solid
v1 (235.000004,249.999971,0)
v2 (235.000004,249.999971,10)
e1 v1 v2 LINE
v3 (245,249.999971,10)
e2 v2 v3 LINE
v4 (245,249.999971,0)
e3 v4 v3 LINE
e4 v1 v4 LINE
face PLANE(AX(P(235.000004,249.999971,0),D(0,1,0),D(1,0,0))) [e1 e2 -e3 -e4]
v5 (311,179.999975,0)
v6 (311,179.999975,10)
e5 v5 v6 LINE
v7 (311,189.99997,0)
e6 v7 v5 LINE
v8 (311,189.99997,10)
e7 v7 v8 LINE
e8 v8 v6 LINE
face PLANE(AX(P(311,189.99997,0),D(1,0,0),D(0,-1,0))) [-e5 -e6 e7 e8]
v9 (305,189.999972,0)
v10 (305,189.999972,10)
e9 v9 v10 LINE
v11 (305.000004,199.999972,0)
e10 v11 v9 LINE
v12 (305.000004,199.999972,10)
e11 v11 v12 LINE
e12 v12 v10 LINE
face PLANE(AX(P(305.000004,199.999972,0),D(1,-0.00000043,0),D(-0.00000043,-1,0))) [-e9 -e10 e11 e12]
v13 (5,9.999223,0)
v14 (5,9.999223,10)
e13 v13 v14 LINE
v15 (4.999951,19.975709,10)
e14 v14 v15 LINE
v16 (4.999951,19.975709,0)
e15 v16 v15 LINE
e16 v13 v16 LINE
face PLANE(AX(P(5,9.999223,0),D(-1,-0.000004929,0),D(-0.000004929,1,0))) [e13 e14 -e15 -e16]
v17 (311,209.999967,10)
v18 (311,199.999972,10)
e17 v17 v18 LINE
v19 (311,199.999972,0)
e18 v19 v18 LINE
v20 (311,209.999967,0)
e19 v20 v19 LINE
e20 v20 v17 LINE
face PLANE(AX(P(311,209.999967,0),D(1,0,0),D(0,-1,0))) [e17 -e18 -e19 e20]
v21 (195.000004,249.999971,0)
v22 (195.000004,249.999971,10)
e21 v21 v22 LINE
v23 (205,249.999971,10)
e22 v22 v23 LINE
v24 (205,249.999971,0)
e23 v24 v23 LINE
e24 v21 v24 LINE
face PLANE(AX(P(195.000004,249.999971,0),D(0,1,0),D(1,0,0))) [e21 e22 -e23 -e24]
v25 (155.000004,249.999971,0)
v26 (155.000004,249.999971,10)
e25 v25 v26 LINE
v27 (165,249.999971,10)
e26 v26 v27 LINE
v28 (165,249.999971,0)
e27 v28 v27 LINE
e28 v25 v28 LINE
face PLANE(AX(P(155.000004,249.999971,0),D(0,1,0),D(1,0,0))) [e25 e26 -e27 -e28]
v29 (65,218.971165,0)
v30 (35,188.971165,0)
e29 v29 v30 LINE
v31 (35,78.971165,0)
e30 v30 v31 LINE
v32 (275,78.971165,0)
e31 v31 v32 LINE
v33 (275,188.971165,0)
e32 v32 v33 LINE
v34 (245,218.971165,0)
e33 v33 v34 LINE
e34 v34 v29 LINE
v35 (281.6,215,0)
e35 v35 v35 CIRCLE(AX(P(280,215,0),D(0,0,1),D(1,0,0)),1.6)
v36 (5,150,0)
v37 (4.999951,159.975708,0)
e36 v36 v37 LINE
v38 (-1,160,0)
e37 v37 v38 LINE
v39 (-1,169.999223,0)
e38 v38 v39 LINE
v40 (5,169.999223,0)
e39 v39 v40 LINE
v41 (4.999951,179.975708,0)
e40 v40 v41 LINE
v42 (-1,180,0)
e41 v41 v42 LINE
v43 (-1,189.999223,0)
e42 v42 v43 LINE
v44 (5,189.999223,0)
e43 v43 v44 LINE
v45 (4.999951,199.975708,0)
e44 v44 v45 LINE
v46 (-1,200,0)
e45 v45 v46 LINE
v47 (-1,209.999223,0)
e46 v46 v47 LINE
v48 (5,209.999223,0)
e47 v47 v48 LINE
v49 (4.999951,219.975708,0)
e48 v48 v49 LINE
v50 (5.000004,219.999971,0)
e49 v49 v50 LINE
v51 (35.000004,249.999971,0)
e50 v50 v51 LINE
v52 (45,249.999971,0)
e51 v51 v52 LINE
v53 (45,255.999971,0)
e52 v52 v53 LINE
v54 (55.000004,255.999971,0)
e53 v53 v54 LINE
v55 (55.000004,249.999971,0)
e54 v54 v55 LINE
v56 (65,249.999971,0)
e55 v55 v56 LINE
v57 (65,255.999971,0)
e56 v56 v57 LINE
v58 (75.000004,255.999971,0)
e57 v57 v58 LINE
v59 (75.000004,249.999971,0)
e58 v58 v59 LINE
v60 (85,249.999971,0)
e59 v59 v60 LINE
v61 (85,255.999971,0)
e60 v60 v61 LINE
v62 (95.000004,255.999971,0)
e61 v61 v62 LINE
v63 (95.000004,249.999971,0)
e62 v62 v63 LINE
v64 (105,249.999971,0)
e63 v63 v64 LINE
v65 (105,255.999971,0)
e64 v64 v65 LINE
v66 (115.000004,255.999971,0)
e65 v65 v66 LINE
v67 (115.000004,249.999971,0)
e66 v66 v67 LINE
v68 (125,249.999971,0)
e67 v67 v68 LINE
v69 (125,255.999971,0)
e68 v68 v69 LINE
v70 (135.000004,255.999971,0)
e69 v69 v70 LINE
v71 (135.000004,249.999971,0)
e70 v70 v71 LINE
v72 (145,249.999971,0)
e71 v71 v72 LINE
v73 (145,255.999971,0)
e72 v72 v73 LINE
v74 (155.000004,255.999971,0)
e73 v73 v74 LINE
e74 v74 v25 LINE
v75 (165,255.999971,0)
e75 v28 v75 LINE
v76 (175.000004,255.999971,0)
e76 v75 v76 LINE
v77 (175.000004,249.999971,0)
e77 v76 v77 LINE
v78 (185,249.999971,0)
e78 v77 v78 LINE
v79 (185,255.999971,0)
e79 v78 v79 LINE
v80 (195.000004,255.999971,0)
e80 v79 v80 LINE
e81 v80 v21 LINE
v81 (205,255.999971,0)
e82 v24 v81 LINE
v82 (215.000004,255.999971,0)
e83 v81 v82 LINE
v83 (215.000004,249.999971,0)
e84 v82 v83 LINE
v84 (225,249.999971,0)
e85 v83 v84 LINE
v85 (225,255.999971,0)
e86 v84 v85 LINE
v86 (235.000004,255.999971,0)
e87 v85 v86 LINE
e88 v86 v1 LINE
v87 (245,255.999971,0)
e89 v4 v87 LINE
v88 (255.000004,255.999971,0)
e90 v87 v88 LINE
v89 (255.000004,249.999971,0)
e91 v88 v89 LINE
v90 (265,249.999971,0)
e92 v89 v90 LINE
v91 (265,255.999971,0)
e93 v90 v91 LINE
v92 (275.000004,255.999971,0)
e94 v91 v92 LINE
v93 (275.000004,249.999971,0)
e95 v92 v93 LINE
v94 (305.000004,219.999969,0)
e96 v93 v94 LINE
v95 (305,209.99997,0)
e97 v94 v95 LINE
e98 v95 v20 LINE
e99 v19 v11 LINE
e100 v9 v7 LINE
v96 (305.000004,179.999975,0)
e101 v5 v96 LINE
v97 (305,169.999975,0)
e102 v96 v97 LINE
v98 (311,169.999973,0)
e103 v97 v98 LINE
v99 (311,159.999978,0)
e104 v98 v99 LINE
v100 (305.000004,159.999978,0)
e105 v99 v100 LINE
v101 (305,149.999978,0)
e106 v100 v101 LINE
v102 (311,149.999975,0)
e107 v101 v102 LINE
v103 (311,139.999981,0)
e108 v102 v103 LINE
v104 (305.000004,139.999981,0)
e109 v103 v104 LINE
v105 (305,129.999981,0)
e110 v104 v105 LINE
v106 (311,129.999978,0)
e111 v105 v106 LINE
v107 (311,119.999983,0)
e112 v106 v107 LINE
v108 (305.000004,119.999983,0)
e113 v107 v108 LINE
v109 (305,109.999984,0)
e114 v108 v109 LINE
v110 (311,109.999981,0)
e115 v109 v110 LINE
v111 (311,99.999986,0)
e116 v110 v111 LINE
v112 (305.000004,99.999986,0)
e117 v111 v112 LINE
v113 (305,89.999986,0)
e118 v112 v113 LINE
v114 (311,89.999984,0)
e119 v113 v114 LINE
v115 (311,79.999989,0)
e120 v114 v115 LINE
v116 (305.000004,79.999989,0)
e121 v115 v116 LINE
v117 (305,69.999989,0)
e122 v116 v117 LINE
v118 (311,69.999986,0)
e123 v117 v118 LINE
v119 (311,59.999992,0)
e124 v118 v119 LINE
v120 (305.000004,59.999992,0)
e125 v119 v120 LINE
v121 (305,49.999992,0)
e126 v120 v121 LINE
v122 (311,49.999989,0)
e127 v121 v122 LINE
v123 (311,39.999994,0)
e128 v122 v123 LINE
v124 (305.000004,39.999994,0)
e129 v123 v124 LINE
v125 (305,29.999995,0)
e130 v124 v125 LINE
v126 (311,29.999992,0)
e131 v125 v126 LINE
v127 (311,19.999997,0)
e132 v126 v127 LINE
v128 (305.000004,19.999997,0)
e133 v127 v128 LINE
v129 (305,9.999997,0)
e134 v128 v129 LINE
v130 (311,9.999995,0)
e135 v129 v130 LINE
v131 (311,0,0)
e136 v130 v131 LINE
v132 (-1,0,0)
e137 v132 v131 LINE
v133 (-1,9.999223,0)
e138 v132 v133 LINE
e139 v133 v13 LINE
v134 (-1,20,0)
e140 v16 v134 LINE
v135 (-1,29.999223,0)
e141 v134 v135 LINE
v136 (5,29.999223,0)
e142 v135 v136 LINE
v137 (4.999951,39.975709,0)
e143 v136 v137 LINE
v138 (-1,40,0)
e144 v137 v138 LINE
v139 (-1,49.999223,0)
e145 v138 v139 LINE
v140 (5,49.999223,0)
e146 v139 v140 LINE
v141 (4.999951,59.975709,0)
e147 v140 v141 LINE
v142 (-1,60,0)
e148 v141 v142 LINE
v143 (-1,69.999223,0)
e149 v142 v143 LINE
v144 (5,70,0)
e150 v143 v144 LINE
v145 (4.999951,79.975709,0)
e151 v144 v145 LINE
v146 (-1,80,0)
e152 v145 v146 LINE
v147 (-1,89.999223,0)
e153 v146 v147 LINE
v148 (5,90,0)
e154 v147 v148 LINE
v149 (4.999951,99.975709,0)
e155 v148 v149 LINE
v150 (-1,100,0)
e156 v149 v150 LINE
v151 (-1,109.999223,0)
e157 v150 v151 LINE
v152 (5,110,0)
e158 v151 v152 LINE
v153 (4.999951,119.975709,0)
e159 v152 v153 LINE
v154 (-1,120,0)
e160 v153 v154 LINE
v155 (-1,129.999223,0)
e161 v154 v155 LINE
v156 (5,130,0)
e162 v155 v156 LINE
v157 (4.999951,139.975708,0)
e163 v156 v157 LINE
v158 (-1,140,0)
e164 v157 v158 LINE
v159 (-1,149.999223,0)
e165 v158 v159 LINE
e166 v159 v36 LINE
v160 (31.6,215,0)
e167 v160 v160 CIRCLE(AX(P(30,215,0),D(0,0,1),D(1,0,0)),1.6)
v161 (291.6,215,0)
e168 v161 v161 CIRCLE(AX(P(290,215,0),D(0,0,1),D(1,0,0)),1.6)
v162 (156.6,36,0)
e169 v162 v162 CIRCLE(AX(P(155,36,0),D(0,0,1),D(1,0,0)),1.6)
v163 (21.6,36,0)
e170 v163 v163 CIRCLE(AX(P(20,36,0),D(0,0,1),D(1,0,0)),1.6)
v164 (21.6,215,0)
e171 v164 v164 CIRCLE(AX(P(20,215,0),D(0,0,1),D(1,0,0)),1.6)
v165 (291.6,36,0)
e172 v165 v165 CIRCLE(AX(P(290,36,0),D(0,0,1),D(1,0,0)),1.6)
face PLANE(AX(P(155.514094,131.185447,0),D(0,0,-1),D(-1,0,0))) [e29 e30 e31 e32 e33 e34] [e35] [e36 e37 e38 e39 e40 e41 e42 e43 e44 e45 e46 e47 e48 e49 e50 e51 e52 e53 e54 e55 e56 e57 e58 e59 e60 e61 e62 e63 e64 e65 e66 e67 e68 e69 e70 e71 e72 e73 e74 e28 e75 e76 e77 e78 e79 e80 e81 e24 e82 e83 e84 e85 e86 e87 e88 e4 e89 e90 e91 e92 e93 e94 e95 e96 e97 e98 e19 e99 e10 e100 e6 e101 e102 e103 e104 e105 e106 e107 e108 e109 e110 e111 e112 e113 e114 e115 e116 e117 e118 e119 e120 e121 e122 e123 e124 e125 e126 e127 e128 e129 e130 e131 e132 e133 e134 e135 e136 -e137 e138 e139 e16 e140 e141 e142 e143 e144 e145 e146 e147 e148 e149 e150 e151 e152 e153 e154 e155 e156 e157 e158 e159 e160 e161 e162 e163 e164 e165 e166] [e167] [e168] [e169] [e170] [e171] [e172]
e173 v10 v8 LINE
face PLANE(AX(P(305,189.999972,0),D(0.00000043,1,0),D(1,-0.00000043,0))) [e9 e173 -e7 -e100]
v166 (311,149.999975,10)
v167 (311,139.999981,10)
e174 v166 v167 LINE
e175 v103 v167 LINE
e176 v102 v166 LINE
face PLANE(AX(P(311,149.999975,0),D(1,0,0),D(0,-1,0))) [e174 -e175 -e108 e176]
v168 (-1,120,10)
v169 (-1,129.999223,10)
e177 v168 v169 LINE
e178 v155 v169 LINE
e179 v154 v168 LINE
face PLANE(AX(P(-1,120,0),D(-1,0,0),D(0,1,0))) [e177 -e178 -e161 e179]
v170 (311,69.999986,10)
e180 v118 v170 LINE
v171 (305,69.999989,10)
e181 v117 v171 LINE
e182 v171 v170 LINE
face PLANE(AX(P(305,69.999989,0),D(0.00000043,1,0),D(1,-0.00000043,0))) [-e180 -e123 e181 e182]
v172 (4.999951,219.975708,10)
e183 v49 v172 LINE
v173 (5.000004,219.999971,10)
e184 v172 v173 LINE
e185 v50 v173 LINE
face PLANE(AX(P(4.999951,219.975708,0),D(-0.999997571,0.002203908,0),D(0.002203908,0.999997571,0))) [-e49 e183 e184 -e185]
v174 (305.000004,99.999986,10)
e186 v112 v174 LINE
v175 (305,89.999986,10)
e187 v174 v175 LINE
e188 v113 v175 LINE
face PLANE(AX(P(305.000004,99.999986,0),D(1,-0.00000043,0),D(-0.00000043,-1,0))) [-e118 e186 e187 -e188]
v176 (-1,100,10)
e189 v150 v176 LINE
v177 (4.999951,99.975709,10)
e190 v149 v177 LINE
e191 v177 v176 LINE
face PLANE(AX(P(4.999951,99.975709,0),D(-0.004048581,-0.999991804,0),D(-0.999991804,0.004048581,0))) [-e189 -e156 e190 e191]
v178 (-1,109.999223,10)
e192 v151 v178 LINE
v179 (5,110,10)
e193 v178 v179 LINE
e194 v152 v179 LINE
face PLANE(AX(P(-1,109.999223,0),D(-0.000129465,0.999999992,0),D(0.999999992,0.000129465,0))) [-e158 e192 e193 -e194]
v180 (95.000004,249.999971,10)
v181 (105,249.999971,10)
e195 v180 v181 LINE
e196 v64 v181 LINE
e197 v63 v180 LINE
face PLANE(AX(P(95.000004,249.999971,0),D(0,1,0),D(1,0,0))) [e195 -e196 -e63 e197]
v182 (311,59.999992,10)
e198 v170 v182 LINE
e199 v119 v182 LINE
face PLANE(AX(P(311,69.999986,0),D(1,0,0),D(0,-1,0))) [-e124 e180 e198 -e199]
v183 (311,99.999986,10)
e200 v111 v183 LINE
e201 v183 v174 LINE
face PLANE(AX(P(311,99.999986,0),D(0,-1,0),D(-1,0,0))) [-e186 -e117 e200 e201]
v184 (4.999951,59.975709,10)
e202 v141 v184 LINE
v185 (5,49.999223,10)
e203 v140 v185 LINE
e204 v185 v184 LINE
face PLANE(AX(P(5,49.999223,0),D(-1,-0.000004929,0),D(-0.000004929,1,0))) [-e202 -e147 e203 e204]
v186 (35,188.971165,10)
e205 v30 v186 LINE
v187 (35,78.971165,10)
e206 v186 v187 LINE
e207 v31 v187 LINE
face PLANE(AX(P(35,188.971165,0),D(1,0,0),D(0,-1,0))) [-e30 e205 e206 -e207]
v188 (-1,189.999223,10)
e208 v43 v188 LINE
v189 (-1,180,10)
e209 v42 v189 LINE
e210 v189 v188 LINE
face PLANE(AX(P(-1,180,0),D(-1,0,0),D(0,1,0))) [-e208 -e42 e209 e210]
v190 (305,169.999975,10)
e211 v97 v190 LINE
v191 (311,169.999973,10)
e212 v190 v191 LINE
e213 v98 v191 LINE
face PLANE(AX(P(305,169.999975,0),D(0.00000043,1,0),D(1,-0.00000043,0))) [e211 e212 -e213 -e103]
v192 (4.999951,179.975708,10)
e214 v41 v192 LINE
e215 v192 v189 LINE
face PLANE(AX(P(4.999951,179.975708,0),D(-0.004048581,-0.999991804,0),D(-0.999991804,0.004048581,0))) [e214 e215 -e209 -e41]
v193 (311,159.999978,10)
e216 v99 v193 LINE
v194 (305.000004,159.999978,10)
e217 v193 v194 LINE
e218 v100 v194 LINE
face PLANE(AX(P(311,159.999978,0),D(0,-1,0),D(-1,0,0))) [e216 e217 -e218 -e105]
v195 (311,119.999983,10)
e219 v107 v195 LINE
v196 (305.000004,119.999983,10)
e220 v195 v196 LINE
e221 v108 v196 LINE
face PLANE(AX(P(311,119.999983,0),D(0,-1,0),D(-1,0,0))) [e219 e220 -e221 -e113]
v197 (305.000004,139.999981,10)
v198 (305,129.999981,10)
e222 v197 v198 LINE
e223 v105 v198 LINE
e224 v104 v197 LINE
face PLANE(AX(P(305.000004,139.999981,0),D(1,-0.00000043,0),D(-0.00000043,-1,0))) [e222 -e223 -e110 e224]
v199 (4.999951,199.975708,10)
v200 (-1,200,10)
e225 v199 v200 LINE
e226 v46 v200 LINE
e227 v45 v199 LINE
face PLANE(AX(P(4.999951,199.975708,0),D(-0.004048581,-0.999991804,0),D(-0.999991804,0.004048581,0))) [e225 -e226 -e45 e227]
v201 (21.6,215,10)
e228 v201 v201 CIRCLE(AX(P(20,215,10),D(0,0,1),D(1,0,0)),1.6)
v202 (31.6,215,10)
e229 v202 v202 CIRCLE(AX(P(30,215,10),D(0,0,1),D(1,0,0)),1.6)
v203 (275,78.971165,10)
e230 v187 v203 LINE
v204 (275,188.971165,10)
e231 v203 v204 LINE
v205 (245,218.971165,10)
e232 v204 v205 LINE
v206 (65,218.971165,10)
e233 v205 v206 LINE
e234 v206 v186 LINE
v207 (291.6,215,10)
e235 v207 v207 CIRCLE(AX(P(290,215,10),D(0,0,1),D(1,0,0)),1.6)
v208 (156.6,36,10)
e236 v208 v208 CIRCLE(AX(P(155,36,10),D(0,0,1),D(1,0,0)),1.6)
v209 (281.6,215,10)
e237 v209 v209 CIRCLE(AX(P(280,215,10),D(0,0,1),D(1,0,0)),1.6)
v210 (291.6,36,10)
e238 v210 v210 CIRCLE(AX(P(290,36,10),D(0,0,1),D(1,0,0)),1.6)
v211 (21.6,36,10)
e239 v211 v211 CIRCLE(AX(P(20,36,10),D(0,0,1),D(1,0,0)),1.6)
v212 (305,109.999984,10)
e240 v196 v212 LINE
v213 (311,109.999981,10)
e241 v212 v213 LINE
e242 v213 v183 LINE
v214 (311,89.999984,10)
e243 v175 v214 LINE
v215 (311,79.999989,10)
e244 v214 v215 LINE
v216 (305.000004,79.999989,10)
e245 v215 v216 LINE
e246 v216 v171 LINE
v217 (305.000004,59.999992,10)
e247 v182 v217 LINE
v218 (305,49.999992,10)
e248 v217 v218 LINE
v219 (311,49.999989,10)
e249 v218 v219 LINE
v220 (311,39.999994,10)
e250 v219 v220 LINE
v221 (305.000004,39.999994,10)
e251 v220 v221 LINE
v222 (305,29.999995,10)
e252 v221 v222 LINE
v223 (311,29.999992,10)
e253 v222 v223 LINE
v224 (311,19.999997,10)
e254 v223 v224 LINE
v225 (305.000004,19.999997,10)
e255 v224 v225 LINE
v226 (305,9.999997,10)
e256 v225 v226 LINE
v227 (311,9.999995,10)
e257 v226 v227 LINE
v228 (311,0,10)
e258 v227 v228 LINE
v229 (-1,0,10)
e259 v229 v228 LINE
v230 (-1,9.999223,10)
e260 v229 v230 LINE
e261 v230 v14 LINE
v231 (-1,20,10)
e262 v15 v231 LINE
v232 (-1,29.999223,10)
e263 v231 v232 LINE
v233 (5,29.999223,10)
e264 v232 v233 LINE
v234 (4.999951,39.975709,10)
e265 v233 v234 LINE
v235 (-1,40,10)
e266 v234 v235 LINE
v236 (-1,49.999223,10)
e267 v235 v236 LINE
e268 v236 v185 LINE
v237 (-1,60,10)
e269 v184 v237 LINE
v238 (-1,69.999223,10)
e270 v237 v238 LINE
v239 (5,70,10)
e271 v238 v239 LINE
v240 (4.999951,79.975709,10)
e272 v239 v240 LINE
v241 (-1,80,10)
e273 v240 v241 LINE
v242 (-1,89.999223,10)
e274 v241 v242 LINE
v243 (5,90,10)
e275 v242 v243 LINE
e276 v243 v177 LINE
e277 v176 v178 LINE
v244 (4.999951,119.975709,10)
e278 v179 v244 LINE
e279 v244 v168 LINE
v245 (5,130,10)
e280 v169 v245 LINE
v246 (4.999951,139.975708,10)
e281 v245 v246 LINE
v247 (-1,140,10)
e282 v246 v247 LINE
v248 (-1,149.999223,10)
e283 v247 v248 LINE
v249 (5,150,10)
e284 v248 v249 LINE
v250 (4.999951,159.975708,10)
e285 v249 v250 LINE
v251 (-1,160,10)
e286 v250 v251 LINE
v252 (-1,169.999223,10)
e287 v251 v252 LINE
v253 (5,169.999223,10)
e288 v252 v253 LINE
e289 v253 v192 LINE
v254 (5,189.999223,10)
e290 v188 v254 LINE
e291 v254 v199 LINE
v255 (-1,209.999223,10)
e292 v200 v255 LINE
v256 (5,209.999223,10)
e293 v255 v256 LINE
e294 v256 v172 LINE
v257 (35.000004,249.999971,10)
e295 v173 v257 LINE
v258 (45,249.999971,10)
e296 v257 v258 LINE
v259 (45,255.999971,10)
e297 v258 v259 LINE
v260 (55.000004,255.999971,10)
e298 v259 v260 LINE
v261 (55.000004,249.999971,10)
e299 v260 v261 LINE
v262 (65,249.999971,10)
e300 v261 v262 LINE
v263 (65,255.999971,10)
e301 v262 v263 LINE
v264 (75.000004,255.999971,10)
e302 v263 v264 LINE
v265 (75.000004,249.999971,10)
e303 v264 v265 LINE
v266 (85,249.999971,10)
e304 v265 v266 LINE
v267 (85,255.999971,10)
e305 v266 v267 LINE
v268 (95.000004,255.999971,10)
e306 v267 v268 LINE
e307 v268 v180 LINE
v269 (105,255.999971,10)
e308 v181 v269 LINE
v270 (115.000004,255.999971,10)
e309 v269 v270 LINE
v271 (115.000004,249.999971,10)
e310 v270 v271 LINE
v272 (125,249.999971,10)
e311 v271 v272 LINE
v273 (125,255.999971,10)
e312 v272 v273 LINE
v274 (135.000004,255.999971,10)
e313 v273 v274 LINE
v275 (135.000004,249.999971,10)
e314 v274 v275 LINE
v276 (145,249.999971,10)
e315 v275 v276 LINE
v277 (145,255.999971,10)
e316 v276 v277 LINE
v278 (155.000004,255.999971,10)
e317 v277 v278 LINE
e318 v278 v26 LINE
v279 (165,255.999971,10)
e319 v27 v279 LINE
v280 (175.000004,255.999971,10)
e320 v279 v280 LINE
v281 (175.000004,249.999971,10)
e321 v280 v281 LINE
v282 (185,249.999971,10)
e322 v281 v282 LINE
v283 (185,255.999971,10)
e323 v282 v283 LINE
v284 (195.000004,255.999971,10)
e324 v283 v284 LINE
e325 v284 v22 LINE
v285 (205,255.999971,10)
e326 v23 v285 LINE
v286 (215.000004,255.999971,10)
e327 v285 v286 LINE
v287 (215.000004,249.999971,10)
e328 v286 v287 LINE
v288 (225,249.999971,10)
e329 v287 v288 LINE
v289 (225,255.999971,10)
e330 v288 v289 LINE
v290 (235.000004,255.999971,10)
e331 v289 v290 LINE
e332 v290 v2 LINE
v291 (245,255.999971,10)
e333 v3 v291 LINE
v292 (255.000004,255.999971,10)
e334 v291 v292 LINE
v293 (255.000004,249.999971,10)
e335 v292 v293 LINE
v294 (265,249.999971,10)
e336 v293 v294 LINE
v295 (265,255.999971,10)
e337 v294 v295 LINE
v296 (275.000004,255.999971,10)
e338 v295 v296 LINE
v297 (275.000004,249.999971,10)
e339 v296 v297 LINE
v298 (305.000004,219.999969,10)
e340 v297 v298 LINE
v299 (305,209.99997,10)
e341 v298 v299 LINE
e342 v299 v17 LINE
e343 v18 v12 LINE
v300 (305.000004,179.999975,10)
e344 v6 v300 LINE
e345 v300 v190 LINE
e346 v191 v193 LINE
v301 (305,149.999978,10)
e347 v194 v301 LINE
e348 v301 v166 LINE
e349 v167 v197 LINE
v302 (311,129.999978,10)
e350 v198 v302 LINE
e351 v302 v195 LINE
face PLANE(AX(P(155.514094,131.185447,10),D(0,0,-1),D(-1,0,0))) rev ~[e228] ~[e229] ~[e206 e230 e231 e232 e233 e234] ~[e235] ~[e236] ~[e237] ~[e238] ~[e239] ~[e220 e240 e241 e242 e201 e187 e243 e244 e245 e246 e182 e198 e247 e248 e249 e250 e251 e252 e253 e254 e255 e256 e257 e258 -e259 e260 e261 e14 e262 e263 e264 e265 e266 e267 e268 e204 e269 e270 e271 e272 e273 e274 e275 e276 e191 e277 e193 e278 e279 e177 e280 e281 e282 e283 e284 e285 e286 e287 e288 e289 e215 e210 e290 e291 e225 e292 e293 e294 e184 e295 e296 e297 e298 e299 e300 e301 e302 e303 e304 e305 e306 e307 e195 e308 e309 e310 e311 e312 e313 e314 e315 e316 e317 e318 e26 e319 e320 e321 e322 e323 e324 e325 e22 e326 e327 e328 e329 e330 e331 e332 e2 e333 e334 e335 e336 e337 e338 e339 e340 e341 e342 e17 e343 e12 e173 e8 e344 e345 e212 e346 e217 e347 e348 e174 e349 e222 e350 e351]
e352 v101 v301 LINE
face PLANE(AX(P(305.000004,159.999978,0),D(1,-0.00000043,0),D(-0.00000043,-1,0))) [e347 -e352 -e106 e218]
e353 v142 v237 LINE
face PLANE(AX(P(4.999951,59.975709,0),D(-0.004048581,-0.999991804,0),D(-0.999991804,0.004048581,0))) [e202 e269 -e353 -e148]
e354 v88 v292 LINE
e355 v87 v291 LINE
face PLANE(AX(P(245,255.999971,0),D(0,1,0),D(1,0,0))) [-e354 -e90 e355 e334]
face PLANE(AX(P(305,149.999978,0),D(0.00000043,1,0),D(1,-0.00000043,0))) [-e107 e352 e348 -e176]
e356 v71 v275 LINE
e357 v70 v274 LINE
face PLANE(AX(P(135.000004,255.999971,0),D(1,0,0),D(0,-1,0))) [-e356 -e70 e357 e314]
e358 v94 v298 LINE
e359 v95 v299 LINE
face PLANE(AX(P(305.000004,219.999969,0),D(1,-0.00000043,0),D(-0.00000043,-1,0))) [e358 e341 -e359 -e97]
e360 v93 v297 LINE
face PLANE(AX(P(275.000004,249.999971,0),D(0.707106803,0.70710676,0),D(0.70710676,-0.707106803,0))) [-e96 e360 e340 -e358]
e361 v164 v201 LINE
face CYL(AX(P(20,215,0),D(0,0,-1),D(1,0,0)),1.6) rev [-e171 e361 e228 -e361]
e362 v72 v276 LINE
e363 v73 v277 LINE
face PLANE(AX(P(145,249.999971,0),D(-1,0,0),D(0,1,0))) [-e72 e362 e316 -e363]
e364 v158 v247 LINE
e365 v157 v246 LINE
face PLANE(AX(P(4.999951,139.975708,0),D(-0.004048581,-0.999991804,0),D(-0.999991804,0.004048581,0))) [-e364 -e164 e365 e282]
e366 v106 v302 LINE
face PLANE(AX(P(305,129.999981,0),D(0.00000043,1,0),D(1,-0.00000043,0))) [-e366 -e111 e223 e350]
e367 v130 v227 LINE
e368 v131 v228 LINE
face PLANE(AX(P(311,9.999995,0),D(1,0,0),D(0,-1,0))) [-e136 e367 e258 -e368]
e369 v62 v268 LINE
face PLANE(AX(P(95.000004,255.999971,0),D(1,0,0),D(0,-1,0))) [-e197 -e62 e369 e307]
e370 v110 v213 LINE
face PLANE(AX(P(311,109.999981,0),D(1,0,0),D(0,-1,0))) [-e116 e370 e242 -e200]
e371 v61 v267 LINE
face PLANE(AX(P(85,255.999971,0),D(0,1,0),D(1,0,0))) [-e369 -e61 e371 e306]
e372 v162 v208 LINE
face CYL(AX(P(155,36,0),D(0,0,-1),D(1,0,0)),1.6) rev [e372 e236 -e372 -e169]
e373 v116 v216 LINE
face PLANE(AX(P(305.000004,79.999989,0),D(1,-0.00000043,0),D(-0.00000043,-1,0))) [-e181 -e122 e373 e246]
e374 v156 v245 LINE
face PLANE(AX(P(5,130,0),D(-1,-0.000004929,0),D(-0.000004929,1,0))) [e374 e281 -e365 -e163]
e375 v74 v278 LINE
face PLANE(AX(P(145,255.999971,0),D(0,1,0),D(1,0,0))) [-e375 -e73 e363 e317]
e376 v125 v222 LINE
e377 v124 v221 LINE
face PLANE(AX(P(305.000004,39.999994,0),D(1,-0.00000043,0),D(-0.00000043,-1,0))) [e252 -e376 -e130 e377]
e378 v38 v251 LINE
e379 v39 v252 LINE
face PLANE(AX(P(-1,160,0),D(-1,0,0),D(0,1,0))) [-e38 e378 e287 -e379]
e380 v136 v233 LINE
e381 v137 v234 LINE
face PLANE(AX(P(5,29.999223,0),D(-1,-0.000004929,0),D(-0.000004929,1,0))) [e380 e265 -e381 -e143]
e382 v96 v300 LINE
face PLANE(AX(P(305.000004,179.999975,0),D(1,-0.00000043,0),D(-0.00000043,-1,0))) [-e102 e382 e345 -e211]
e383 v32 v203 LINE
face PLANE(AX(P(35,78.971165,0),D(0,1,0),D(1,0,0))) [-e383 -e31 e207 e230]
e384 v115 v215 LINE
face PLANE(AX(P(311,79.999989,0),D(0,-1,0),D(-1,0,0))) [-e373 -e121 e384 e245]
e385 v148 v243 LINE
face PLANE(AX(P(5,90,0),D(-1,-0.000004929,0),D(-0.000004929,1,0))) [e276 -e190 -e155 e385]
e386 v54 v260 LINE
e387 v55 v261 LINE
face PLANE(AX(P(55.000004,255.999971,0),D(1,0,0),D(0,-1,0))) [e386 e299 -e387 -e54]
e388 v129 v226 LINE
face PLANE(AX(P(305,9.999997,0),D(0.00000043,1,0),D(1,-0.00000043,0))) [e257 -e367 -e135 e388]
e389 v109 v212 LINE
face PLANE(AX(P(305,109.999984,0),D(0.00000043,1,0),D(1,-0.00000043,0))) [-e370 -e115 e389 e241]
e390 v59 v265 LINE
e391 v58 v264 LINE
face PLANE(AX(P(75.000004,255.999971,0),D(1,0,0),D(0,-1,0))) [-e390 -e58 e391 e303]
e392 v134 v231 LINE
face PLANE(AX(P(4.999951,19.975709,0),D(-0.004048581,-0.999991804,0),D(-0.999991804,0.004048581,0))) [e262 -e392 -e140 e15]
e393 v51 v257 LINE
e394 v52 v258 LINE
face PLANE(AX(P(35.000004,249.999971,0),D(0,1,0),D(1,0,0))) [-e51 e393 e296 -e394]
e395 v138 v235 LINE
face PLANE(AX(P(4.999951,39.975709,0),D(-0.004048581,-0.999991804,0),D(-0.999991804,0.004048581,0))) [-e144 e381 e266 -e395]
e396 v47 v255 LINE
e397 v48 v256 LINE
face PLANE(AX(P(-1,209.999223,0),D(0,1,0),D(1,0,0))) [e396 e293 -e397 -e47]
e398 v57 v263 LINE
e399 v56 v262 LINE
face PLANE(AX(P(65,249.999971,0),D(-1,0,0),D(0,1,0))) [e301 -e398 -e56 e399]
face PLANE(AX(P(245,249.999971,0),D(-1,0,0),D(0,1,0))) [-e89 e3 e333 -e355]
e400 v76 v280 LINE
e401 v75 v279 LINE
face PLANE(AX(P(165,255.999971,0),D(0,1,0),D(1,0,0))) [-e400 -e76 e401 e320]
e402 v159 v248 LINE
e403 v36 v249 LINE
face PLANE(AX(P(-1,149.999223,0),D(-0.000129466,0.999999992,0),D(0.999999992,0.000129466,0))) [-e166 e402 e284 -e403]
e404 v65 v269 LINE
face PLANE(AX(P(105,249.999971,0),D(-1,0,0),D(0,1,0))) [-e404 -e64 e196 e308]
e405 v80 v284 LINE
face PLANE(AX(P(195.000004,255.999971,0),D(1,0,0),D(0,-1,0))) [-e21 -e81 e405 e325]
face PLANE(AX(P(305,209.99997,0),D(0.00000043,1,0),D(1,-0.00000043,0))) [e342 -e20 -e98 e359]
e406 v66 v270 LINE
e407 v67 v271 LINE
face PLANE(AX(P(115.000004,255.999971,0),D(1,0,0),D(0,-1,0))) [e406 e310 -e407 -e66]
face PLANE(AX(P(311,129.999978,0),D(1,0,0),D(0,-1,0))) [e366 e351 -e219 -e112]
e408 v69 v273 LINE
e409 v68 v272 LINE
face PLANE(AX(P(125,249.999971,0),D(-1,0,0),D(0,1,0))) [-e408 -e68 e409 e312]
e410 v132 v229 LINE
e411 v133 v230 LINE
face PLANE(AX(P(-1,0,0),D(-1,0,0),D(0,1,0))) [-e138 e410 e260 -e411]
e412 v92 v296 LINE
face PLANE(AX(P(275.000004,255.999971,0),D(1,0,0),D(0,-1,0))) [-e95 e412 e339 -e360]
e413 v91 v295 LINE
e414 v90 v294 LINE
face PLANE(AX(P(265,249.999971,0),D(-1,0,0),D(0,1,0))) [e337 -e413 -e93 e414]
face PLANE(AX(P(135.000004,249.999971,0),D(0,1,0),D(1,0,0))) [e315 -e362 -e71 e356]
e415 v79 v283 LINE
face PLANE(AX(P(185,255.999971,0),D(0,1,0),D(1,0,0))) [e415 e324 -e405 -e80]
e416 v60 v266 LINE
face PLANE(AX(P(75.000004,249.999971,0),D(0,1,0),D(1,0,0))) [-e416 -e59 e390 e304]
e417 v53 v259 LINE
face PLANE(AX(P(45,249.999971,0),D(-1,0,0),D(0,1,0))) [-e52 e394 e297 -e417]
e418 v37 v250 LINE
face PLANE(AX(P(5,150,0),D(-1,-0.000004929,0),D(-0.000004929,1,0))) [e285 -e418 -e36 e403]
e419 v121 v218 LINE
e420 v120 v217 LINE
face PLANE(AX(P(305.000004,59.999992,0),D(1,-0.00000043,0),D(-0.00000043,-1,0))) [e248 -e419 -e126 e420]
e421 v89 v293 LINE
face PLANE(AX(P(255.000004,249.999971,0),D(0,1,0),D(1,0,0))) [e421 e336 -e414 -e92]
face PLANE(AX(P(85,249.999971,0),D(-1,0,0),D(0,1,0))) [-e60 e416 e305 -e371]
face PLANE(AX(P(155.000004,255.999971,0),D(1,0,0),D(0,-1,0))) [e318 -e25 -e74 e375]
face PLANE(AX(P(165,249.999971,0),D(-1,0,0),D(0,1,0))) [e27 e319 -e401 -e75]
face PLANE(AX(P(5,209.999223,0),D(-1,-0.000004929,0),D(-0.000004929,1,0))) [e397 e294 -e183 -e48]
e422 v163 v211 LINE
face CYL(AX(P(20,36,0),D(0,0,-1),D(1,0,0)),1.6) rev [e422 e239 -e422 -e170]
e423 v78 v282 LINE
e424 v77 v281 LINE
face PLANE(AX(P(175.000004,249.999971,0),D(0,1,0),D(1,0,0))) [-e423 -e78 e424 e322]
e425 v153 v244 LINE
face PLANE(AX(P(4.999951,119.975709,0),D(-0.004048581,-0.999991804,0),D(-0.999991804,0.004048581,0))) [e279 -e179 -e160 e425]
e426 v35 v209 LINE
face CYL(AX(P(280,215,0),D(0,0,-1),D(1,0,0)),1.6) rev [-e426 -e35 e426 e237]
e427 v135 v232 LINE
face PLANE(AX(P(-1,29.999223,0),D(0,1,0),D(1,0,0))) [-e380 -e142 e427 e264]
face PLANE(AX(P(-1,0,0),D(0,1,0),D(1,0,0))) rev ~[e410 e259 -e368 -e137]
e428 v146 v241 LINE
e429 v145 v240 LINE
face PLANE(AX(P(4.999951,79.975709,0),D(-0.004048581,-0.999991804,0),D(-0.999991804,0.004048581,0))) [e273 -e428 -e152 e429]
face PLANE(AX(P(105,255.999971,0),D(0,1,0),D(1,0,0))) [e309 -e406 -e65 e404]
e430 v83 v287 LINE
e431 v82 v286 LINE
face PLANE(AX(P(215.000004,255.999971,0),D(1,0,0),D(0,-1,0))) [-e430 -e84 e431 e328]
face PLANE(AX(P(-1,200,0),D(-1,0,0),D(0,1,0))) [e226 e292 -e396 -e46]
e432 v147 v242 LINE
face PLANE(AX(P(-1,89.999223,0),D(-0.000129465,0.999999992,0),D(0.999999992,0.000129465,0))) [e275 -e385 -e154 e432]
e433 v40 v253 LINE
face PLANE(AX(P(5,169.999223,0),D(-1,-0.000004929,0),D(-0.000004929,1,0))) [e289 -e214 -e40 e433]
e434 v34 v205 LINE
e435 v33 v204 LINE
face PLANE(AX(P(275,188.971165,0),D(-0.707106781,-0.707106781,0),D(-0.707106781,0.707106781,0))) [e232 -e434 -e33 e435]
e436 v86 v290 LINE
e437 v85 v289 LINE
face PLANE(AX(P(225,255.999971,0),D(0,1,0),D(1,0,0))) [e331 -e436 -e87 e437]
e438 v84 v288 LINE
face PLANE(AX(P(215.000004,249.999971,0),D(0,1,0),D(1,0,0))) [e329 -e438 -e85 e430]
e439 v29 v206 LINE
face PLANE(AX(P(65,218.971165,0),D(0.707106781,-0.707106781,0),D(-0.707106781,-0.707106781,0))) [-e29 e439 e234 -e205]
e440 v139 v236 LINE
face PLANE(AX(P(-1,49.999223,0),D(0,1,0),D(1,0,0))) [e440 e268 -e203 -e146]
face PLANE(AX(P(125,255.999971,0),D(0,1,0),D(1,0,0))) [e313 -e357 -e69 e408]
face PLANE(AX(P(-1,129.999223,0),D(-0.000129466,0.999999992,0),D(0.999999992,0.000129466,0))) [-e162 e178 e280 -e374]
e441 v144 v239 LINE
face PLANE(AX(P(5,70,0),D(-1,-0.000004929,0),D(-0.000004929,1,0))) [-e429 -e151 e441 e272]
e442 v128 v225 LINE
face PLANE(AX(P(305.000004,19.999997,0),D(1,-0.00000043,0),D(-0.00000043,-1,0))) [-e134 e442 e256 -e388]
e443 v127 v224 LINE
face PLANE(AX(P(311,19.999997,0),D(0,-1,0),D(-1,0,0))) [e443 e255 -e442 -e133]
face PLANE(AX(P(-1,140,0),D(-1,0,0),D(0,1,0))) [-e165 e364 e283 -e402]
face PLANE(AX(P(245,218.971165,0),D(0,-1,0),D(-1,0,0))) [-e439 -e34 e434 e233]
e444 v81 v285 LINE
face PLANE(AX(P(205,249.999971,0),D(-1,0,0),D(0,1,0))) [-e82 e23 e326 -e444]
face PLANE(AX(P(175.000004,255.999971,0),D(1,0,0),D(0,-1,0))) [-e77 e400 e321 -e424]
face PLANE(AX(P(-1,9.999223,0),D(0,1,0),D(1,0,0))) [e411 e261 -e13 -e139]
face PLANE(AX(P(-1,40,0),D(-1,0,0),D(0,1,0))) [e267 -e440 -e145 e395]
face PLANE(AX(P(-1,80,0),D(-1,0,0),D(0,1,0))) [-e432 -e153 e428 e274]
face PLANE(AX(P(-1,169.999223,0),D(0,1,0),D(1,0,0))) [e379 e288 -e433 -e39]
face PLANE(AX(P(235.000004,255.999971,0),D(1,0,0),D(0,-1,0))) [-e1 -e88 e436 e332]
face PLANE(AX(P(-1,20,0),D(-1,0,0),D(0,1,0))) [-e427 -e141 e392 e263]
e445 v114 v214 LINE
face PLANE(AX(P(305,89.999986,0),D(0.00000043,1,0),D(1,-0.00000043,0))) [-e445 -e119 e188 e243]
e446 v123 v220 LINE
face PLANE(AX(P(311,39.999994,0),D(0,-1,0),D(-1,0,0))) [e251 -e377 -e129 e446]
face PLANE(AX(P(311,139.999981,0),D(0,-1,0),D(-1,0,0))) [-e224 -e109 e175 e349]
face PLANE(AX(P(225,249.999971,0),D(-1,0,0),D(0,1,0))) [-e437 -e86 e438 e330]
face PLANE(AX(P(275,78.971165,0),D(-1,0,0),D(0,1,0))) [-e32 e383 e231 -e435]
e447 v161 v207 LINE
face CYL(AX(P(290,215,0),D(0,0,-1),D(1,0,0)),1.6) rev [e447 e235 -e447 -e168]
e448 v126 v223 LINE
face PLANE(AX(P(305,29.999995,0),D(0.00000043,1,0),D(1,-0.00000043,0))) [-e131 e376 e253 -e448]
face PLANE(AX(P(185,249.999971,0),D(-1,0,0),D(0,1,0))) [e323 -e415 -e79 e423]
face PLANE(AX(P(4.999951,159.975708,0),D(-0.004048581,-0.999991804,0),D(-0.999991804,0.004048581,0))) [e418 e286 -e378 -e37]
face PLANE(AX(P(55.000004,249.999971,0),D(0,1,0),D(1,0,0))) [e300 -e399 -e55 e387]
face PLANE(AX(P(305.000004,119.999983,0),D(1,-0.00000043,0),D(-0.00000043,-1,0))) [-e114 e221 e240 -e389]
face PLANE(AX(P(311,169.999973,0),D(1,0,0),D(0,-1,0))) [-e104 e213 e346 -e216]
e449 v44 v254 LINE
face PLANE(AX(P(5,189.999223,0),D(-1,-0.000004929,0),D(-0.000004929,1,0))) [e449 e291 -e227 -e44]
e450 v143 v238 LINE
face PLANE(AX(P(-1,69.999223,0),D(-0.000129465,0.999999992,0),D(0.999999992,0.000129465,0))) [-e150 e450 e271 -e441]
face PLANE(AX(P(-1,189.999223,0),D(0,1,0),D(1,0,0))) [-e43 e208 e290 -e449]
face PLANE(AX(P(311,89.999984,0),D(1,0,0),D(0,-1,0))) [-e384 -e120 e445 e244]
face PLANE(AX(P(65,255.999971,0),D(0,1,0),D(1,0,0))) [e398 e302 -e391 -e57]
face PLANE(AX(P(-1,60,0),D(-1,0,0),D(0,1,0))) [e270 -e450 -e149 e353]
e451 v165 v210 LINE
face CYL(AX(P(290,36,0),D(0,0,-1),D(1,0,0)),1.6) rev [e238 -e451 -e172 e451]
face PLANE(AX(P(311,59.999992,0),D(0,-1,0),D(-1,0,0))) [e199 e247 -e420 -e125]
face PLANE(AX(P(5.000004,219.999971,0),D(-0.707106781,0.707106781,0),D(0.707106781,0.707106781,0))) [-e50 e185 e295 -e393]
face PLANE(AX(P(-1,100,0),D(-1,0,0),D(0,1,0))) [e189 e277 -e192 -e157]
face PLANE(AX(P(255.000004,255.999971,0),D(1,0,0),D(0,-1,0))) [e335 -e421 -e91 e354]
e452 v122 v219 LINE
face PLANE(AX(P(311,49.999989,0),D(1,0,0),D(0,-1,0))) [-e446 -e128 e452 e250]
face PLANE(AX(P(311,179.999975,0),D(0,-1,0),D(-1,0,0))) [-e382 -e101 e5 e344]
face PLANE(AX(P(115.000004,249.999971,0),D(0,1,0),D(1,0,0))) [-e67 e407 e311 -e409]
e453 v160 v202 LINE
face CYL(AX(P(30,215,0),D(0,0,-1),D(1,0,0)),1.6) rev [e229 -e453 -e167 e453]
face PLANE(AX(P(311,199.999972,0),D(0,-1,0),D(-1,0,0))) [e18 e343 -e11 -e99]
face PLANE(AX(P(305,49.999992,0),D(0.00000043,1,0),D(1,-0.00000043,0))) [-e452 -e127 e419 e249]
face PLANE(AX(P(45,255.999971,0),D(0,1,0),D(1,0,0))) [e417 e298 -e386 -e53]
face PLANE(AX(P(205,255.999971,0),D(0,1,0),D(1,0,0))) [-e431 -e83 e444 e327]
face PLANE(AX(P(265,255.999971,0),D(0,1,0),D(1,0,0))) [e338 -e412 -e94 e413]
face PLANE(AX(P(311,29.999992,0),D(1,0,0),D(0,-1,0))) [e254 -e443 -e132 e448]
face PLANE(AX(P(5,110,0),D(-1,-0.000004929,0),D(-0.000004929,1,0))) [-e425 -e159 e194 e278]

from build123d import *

# Parameters (mm, degrees)
SKIZZE1_R                       = 1.6
AUFSATZ_LINEAR_AUSTRAGEN1_DEPTH = 10


with BuildPart() as part:
    # Skizze1 → Aufsatz-Linear austragen1 (new body)
    with BuildSketch(Plane.XY):
        Polygon((5, 9.999223218), (4.999950827, 19.975708513), (-1, 19.999999998), (-1, 29.999223216), (5, 29.999223216), (4.999950827, 39.975708511), (-1, 39.999999996), (-1, 49.999223214), (5, 49.999223214), (4.999950827, 59.975708509), (-1, 59.999999994), (-1, 69.999223211), (5, 70), (4.999950827, 79.975708506), (-1, 79.999999991), (-1, 89.999223209), (5, 90), (4.999950827, 99.975708504), (-1, 99.999999989), (-1, 109.999223207), (5, 110), (4.999950827, 119.975708502), (-1, 119.999999987), (-1, 129.999223205), (5, 130), (4.999950827, 139.9757085), (-1, 139.999999985), (-1, 149.999223203), (5, 150), (4.999950827, 159.975708498), (-1, 159.999999983), (-1, 169.999223201), (5, 169.999223201), (4.999950827, 179.975708496), (-1, 179.999999981), (-1, 189.999223198), (5, 189.999223198), (4.999950827, 199.975708493), (-1, 199.999999978), (-1, 209.999223196), (5, 209.999223196), (4.999950827, 219.975708491), (5.0000043, 219.999971242), (35.0000043, 249.999971242), (45, 249.999971242), (45, 255.999971242), (55.0000043, 255.999971242), (55.0000043, 249.999971242), (65, 249.999971242), (65, 255.999971242), (75.0000043, 255.999971242), (75.0000043, 249.999971242), (85, 249.999971242), (85, 255.999971242), (95.0000043, 255.999971242), (95.0000043, 249.999971242), (105, 249.999971242), (105, 255.999971242), (115.0000043, 255.999971242), (115.0000043, 249.999971242), (125, 249.999971242), (125, 255.999971242), (135.0000043, 255.999971242), (135.0000043, 249.999971242), (145, 249.999971242), (145, 255.999971242), (155.0000043, 255.999971242), (155.0000043, 249.999971242), (165, 249.999971242), (165, 255.999971242), (175.0000043, 255.999971242), (175.0000043, 249.999971242), (185, 249.999971242), (185, 255.999971242), (195.0000043, 255.999971242), (195.0000043, 249.999971242), (205, 249.999971242), (205, 255.999971242), (215.0000043, 255.999971242), (215.0000043, 249.999971242), (225, 249.999971242), (225, 255.999971242), (235.0000043, 255.999971242), (235.0000043, 249.999971242), (245, 249.999971242), (245, 255.999971242), (255.0000043, 255.999971242), (255.0000043, 249.999971242), (265, 249.999971242), (265, 255.999971242), (275.0000043, 255.999971242), (275.0000043, 249.999971242), (305.0000043, 219.999969416), (304.999999999, 209.999969615), (311, 209.999967035), (311, 199.999972196), (305.0000043, 199.999972196), (304.999999999, 189.999972396), (311, 189.999969815), (311, 179.999974976), (305.0000043, 179.999974976), (304.999999999, 169.999975176), (311, 169.999972595), (311, 159.999977757), (305.0000043, 159.999977757), (304.999999999, 149.999977957), (311, 149.999975376), (311, 139.999980537), (305.0000043, 139.999980537), (304.999999999, 129.999980737), (311, 129.999978156), (311, 119.999983318), (305.0000043, 119.999983318), (304.999999999, 109.999983517), (311, 109.999980937), (311, 99.999986098), (305.0000043, 99.999986098), (304.999999999, 89.999986298), (311, 89.999983717), (311, 79.999988878), (305.0000043, 79.999988878), (304.999999999, 69.999989078), (311, 69.999986497), (311, 59.999991659), (305.0000043, 59.999991659), (304.999999999, 49.999991859), (311, 49.999989278), (311, 39.999994439), (305.0000043, 39.999994439), (304.999999999, 29.999994639), (311, 29.999992058), (311, 19.99999722), (305.0000043, 19.99999722), (304.999999999, 9.999997419), (311, 9.999994839), (311, 0), (305.0000043, 0), (4.956899878, 0), (-1, 0), (-1, 9.999223218), align=None)
        with Locations((290, 214.999999999)):
            Circle(SKIZZE1_R, mode=Mode.SUBTRACT)
        with Locations((280, 214.999999999)):
            Circle(SKIZZE1_R, mode=Mode.SUBTRACT)
        with Locations((20, 215)):
            Circle(SKIZZE1_R, mode=Mode.SUBTRACT)
        with Locations((30, 215)):
            Circle(SKIZZE1_R, mode=Mode.SUBTRACT)
        with Locations((20, 36)):
            Circle(SKIZZE1_R, mode=Mode.SUBTRACT)
        with Locations((155, 36)):
            Circle(SKIZZE1_R, mode=Mode.SUBTRACT)
        with Locations((290, 36)):
            Circle(SKIZZE1_R, mode=Mode.SUBTRACT)
        Polygon((275, 188.971165398), (245, 218.971165398), (65, 218.971165398), (35, 188.971165398), (35, 78.971165398), (275, 78.971165398), align=None, mode=Mode.SUBTRACT)
    extrude(amount=AUFSATZ_LINEAR_AUSTRAGEN1_DEPTH)


solid = part.part
